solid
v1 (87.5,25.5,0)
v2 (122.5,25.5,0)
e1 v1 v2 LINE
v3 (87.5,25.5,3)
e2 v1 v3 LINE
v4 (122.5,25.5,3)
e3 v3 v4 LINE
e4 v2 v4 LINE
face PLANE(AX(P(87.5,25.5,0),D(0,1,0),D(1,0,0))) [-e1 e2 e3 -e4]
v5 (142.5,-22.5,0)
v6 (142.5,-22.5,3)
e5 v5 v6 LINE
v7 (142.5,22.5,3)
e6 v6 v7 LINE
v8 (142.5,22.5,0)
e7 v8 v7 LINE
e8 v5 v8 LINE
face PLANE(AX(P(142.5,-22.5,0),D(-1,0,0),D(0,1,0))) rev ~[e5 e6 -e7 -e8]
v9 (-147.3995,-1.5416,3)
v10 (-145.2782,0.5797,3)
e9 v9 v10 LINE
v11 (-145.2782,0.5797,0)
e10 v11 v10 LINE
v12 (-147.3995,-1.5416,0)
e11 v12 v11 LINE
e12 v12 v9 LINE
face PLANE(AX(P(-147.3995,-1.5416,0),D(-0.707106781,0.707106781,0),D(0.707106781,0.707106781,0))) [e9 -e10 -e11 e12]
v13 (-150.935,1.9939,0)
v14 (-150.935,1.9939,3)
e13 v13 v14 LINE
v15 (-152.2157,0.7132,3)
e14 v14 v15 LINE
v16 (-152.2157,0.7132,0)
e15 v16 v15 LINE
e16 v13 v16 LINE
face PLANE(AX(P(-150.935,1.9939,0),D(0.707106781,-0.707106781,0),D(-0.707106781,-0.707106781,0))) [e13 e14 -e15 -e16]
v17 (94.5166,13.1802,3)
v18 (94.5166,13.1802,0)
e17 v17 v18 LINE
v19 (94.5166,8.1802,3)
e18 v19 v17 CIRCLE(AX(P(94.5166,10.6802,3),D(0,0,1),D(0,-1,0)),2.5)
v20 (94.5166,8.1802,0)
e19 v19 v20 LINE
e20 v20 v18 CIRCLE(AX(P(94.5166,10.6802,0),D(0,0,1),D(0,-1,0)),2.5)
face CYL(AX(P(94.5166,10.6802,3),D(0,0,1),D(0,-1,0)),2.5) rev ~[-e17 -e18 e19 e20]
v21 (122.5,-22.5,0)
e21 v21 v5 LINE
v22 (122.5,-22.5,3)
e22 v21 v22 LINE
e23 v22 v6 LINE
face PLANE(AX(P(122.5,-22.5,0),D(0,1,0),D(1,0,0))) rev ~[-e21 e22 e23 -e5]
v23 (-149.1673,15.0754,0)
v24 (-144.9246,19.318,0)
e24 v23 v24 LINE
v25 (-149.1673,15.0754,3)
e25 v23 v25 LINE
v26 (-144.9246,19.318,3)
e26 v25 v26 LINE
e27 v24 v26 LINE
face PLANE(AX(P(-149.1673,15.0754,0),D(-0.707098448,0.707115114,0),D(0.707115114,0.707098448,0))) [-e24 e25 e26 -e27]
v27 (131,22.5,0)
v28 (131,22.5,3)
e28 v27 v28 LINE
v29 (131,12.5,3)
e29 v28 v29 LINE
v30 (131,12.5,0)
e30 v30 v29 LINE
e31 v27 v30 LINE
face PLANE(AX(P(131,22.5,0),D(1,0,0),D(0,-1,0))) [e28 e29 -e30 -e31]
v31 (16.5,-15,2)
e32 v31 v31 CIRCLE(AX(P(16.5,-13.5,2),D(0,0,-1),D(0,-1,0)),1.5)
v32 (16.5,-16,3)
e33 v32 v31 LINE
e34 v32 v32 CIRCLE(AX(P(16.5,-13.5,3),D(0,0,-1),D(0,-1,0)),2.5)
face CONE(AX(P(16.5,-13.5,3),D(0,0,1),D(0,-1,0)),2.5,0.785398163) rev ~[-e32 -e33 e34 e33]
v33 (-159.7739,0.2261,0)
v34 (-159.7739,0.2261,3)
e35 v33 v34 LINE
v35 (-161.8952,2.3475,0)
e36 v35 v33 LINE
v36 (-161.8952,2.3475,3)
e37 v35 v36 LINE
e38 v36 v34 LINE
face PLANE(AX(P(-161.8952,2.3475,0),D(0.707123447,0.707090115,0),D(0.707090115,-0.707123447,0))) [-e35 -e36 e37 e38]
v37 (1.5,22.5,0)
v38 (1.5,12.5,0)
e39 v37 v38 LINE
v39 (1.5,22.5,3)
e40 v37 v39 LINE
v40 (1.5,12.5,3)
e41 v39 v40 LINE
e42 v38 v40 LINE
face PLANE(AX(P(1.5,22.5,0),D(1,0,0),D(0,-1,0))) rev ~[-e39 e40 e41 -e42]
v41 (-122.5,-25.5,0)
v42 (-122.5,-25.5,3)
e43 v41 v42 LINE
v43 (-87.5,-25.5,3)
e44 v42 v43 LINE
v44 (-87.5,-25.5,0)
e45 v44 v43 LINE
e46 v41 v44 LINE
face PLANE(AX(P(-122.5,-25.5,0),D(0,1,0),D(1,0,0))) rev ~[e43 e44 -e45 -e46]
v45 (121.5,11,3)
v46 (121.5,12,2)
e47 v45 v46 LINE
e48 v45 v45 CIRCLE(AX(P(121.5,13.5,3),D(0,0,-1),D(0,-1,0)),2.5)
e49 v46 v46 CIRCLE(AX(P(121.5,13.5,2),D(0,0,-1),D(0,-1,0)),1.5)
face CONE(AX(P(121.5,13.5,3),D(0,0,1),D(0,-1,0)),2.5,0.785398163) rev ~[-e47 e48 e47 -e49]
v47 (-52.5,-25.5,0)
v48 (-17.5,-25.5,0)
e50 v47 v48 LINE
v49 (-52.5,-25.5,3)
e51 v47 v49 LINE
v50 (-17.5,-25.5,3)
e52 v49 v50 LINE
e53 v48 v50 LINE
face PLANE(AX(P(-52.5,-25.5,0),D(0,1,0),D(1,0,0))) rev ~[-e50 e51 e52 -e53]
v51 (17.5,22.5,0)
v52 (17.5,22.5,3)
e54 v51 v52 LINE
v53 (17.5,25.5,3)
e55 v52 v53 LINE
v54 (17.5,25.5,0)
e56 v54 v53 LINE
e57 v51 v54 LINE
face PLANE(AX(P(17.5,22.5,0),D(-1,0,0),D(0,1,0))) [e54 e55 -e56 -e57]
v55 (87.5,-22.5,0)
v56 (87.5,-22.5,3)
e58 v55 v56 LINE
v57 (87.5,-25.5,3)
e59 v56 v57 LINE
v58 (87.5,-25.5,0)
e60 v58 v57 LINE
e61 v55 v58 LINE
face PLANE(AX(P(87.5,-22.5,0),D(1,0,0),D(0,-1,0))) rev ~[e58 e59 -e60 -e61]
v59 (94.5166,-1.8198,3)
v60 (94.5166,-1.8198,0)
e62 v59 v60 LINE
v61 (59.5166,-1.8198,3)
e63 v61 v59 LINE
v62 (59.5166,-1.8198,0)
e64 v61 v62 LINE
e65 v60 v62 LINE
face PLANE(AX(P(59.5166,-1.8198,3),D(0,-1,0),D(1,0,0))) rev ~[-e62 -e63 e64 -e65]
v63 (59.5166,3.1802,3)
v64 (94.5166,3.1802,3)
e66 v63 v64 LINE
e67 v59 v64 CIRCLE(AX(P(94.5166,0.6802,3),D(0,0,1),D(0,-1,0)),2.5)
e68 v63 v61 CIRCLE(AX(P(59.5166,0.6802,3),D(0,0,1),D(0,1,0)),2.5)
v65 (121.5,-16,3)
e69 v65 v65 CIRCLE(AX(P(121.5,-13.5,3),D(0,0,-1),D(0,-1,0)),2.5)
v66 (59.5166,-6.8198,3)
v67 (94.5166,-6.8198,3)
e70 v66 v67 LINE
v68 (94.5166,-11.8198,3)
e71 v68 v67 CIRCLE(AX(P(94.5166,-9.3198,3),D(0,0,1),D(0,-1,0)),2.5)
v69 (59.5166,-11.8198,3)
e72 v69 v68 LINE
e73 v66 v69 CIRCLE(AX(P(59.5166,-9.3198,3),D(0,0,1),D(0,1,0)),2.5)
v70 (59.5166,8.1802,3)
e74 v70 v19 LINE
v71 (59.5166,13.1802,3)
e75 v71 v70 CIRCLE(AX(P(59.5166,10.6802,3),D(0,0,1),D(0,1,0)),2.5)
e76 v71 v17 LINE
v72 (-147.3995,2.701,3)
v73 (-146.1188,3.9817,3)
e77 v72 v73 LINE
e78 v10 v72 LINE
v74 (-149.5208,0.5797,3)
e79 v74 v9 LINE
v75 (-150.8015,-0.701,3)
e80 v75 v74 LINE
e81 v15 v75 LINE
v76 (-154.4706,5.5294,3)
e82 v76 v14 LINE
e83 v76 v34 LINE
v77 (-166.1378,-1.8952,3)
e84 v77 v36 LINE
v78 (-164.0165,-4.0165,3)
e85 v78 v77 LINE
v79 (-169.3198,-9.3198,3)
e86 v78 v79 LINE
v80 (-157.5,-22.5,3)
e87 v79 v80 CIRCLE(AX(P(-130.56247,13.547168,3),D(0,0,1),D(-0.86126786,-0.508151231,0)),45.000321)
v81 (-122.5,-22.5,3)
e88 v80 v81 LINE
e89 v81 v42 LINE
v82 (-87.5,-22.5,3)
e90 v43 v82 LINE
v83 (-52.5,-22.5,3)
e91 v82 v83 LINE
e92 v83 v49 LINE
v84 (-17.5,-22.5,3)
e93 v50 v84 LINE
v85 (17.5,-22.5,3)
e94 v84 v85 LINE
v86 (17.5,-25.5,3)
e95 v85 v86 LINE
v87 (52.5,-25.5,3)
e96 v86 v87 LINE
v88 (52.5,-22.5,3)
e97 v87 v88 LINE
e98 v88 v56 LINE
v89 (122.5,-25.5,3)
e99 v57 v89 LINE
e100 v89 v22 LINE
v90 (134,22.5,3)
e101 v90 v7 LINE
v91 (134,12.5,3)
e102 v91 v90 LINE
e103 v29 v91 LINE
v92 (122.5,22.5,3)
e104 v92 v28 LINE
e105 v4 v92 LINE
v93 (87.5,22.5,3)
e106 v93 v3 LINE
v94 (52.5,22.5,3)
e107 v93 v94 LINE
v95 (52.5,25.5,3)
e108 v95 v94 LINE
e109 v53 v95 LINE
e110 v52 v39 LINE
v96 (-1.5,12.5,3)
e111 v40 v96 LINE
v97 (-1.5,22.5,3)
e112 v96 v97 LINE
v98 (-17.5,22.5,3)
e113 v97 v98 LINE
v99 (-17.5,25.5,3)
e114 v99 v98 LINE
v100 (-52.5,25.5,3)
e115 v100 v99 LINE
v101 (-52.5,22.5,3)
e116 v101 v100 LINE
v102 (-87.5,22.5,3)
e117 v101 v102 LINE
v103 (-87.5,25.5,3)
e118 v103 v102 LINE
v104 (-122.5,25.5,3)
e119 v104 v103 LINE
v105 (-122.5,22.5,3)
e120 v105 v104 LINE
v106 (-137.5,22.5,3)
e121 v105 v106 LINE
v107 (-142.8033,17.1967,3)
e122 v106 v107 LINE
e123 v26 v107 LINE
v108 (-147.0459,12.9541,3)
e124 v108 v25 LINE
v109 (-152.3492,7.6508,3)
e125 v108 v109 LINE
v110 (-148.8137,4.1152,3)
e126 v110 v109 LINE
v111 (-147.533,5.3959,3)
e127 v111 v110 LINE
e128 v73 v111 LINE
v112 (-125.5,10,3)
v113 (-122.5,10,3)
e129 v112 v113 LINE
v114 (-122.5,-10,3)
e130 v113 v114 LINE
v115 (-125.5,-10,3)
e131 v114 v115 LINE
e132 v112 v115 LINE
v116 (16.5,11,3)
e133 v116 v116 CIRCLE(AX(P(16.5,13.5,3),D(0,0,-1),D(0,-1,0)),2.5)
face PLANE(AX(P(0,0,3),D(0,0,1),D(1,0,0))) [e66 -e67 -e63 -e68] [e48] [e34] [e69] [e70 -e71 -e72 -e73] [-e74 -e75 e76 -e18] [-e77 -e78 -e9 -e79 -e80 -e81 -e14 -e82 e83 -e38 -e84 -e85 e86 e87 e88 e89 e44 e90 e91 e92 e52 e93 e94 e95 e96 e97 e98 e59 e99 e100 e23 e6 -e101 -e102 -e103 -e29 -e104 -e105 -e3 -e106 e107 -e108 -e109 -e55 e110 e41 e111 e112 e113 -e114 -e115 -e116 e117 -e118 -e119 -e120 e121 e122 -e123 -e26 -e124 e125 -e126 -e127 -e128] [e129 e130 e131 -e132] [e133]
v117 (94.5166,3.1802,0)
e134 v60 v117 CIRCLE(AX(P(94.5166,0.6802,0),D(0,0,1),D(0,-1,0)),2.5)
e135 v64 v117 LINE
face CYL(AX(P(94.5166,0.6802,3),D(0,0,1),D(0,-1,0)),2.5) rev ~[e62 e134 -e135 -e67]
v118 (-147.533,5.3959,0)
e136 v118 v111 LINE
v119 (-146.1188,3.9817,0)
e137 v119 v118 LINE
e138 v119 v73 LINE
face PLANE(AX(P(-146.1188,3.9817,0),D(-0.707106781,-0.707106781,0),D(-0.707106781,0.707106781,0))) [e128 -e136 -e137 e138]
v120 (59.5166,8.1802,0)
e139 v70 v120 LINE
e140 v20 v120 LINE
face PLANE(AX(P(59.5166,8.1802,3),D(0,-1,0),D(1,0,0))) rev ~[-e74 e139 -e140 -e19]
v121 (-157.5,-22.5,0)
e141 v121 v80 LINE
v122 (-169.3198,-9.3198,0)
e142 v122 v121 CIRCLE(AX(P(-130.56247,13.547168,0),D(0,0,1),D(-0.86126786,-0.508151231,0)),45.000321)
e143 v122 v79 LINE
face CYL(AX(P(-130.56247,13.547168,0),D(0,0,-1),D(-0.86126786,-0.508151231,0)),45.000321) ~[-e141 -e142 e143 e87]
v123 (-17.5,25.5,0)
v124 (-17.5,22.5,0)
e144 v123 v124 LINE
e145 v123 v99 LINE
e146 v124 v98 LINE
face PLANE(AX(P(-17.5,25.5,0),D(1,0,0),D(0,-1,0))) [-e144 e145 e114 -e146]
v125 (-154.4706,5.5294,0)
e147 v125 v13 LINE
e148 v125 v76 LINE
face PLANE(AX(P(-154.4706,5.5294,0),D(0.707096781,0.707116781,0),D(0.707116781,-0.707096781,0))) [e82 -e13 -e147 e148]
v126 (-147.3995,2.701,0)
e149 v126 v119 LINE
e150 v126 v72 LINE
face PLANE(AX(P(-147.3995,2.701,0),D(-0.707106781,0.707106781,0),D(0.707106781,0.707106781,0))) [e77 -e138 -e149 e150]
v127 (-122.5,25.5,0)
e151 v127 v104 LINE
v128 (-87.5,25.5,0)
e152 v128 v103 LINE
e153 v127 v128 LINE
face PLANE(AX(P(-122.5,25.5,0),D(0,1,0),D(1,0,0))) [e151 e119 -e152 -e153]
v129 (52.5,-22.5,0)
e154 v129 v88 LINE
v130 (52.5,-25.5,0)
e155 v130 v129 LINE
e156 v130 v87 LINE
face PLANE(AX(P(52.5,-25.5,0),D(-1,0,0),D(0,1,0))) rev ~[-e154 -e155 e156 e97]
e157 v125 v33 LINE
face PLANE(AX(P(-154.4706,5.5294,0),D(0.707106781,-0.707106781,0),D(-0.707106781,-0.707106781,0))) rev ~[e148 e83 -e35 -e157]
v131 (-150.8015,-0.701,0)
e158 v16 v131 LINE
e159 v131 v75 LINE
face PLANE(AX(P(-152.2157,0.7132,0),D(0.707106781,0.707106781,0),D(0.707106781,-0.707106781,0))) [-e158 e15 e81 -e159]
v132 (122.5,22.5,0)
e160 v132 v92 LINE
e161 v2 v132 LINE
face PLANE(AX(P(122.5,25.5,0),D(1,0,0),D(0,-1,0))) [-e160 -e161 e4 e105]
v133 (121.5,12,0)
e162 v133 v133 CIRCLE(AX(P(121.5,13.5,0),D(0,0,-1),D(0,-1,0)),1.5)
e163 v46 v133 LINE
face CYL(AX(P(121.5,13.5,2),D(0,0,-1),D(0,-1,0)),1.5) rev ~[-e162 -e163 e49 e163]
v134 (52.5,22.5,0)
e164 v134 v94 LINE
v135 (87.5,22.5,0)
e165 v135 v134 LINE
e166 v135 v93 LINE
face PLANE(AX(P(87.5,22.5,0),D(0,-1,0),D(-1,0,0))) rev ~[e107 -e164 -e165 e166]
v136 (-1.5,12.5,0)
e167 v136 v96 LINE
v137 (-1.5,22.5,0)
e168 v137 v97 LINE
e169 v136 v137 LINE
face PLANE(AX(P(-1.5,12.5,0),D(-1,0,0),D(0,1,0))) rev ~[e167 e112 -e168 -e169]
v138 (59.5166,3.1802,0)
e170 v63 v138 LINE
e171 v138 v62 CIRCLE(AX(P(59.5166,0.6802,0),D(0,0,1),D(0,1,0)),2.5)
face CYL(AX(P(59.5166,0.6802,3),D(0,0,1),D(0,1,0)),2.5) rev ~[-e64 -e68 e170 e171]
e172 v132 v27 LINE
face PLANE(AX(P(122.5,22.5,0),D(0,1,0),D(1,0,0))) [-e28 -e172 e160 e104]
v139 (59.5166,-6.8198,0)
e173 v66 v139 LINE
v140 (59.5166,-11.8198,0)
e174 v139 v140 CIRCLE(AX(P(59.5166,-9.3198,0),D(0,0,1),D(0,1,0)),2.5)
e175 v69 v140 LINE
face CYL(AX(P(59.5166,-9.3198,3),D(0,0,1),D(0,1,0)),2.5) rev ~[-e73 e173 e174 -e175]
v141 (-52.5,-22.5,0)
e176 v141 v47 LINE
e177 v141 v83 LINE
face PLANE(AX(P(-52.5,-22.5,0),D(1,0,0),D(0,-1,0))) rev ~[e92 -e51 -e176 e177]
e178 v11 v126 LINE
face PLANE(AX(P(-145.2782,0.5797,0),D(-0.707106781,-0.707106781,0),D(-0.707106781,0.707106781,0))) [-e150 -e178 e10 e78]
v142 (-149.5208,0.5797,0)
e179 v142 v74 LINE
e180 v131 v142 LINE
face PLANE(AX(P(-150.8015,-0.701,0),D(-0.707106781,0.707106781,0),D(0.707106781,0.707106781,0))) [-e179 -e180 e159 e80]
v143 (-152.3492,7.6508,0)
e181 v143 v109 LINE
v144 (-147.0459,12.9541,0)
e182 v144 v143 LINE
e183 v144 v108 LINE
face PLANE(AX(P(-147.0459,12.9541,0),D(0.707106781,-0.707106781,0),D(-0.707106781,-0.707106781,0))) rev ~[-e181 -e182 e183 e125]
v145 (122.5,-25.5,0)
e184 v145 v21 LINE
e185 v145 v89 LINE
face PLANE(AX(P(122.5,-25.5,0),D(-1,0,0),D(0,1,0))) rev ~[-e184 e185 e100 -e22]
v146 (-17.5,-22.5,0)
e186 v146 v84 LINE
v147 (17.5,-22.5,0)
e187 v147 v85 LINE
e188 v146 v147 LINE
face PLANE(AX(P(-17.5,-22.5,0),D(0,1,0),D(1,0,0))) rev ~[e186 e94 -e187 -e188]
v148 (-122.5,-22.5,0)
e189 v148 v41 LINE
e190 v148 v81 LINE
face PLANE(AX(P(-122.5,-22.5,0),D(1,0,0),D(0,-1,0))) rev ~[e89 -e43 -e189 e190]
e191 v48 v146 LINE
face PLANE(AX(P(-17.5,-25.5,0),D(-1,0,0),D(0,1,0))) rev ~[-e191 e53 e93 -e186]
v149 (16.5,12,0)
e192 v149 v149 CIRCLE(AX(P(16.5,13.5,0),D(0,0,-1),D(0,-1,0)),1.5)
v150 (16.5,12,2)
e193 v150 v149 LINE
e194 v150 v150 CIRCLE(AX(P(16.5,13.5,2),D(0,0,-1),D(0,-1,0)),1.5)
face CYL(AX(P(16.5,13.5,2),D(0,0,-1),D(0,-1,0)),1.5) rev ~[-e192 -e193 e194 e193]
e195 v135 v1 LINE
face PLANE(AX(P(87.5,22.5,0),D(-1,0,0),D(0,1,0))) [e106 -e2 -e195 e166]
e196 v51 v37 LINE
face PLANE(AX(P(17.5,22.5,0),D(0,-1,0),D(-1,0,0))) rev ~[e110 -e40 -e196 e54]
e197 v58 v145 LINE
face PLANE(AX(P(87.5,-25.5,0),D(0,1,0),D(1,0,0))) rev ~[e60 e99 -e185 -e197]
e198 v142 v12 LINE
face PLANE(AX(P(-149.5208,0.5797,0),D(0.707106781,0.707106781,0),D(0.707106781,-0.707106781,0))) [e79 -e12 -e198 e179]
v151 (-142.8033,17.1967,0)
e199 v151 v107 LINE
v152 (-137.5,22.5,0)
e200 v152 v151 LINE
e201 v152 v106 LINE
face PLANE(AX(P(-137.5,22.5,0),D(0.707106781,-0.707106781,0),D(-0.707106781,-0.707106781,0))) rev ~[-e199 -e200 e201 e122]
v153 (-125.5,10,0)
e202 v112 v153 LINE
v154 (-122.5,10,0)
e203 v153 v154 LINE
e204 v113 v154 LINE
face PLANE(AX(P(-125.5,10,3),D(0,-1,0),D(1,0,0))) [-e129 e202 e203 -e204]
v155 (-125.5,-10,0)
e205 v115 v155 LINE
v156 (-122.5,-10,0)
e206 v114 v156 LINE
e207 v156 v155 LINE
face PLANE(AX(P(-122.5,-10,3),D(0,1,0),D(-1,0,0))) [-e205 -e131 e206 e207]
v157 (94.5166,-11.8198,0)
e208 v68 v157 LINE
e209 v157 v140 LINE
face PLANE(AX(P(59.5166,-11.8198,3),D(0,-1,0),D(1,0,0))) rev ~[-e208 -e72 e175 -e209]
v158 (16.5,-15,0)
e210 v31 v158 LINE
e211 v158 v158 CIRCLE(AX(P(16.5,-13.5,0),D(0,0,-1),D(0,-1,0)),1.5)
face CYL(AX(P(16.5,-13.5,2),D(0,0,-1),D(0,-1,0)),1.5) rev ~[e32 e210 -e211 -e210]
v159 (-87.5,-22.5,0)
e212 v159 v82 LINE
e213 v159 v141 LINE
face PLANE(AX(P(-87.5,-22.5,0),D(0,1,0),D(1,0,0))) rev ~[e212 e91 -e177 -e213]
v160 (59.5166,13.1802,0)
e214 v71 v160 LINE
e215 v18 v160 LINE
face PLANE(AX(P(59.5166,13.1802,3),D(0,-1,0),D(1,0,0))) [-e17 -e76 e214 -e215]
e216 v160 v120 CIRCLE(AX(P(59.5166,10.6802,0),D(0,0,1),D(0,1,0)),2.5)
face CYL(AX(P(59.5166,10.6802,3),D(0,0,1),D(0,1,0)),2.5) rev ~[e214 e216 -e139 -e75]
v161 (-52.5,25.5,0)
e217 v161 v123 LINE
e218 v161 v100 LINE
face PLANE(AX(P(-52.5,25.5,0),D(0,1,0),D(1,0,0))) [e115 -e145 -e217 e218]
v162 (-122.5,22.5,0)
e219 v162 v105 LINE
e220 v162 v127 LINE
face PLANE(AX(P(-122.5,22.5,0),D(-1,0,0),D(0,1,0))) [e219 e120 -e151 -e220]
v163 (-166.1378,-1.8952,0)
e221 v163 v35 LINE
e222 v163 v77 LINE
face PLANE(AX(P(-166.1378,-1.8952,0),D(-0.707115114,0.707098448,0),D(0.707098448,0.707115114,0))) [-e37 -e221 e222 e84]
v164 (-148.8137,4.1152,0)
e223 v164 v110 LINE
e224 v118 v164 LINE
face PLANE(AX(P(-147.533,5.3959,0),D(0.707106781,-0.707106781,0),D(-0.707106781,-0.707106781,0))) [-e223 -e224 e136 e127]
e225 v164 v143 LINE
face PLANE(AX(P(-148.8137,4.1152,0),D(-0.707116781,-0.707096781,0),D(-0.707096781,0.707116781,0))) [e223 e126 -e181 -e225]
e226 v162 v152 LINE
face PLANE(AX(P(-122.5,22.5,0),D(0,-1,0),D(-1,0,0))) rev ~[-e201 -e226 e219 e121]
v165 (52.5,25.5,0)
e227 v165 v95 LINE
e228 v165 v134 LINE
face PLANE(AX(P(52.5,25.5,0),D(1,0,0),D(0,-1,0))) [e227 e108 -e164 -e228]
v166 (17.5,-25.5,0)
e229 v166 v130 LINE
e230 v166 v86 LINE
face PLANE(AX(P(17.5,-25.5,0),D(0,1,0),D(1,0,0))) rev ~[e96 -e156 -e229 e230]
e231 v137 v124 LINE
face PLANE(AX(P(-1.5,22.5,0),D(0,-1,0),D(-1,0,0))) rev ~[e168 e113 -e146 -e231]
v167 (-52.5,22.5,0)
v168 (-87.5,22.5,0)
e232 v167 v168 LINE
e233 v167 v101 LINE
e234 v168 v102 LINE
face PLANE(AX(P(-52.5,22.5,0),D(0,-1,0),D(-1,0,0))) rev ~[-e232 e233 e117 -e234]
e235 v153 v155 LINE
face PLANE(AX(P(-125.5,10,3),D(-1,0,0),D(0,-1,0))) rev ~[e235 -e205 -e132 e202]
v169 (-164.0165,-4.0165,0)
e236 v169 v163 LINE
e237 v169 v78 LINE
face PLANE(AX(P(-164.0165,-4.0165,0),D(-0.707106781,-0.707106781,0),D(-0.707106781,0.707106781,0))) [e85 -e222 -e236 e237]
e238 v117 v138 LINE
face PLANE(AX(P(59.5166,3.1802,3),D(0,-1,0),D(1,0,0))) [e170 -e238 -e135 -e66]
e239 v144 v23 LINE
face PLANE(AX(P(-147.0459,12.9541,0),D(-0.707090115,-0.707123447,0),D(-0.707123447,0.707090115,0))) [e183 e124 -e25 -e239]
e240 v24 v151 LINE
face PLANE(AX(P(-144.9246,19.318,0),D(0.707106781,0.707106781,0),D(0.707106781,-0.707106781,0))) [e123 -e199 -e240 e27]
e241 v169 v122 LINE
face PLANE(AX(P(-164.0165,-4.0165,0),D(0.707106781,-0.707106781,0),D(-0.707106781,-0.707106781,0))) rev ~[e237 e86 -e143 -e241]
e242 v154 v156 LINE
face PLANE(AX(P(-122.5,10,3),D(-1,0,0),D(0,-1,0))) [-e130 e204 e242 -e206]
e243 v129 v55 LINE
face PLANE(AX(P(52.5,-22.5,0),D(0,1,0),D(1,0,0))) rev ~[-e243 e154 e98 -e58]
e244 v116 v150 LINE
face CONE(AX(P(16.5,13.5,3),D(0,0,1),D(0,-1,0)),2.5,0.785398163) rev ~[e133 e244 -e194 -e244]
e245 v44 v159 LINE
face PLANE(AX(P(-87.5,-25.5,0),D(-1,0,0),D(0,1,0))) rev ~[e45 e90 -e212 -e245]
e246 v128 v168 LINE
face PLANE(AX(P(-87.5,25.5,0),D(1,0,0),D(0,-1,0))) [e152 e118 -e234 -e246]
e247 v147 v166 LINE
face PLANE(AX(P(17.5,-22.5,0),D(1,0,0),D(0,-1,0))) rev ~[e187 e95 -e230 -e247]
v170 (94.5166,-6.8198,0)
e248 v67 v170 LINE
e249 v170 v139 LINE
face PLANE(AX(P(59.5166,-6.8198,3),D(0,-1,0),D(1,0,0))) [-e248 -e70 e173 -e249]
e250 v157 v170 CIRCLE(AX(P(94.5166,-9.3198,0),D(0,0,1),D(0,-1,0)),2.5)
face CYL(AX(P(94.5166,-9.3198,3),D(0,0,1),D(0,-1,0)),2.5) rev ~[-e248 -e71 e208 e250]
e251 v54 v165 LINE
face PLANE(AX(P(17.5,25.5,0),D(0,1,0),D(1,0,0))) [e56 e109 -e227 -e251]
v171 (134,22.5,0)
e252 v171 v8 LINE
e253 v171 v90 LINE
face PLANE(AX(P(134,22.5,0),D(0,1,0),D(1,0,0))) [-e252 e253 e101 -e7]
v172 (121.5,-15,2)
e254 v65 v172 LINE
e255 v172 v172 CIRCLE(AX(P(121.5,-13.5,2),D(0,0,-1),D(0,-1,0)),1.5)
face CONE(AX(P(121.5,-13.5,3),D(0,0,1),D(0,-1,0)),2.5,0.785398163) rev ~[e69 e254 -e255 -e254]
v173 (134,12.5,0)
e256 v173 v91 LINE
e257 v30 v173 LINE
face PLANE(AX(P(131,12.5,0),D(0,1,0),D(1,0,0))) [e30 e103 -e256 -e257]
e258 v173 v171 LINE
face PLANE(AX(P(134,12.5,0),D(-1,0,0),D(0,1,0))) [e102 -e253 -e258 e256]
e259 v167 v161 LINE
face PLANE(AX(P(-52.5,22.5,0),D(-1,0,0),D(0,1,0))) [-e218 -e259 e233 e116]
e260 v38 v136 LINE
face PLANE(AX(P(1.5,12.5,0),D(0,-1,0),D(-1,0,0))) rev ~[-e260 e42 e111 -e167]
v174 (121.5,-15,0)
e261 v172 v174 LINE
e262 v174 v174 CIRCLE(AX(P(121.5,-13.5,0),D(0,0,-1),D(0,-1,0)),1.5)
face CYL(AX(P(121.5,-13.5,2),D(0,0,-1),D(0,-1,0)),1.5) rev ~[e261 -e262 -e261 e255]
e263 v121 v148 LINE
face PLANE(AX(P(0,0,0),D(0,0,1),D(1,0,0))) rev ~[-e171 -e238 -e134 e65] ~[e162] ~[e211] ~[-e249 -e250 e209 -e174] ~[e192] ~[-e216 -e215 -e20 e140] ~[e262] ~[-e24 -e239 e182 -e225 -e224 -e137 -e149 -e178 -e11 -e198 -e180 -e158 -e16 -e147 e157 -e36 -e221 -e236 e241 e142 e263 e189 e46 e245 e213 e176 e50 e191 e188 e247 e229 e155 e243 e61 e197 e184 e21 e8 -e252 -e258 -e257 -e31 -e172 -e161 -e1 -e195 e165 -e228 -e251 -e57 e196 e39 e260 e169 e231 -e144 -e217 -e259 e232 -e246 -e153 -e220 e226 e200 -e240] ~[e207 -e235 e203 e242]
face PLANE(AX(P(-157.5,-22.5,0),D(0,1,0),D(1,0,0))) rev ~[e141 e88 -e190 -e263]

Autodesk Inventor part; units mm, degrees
ref_plane "YZ Plane" through (0, 0, 0) normal (1, 0, 0) x (0, 1, 0)
ref_plane "XZ Plane" through (0, 0, 0) normal (0, 1, 0) x (-1, 0, 0)
ref_plane "XY Plane" through (0, 0, 0) normal (0, 0, 1) x (1, 0, 0)
sketch "Sketch1" plane through (0, 0, 0) normal (0, 0, 1) x (1, 0, 0)
  line L0 (142.5, -22.5) -> (142.5, 22.5)
  arc A0 (-169.3198, -9.3198) -> (-157.5, -22.5) centre (-130.5627, 13.547) ccw
  line L1 (-154.4706, 5.5294) -> (-150.935, 1.9939)
  line L2 (-150.935, 1.9939) -> (-152.2157, 0.7132)
  line L3 (-152.2157, 0.7132) -> (-150.8015, -0.701)
  line L4 (-150.8015, -0.701) -> (-149.5208, 0.5797)
  line L5 (-149.5208, 0.5797) -> (-147.3995, -1.5416)
  line L6 (-147.3995, -1.5416) -> (-145.2782, 0.5797)
  line L7 (-145.2782, 0.5797) -> (-147.3995, 2.701)
  line L8 (-147.3995, 2.701) -> (-146.1188, 3.9817)
  line L9 (-146.1188, 3.9817) -> (-147.533, 5.3959)
  line L10 (-147.533, 5.3959) -> (-148.8137, 4.1152)
  line L11 (-148.8137, 4.1152) -> (-152.3492, 7.6508)
  line L12 (-154.542, 7.7222) -> (-156.666, 9.8462) construction
  line L13 (-122.5, 22.5) -> (-122.5, 25.5)
  line L14 (-122.5, 25.5) -> (-87.5, 25.5)
  line L15 (-87.5, 25.5) -> (-87.5, 22.5)
  line L16 (-52.5, 22.5) -> (-52.5, 25.5)
  line L17 (-52.5, 25.5) -> (-17.5, 25.5)
  line L18 (-17.5, 25.5) -> (-17.5, 22.5)
  line L19 (17.5, 22.5) -> (17.5, 25.5)
  line L20 (17.5, 25.5) -> (52.5, 25.5)
  line L21 (52.5, 25.5) -> (52.5, 22.5)
  line L22 (87.5, 22.5) -> (87.5, 25.5)
  line L23 (87.5, 25.5) -> (122.5, 25.5)
  line L24 (122.5, 25.5) -> (122.5, 22.5)
  line L25 (87.5, 22.5) -> (52.5, 22.5)
  line L26 (-52.5, 22.5) -> (-87.5, 22.5)
  line L27 (-122.5, 22.5) -> (-137.5, 22.5)
  line L28 (-122.5, -22.5) -> (-122.5, -25.5)
  line L29 (-122.5, -25.5) -> (-87.5, -25.5)
  line L30 (-87.5, -25.5) -> (-87.5, -22.5)
  line L31 (-52.5, -22.5) -> (-52.5, -25.5)
  line L32 (-52.5, -25.5) -> (-17.5, -25.5)
  line L33 (-17.5, -25.5) -> (-17.5, -22.5)
  line L34 (17.5, -22.5) -> (17.5, -25.5)
  line L35 (17.5, -25.5) -> (52.5, -25.5)
  line L36 (52.5, -25.5) -> (52.5, -22.5)
  line L37 (87.5, -22.5) -> (87.5, -25.5)
  line L38 (87.5, -25.5) -> (122.5, -25.5)
  line L39 (122.5, -25.5) -> (122.5, -22.5)
  line L40 (-157.5, -22.5) -> (-122.5, -22.5)
  line L41 (-87.5, -22.5) -> (-52.5, -22.5)
  line L42 (-17.5, -22.5) -> (17.5, -22.5)
  line L43 (52.5, -22.5) -> (87.5, -22.5)
  line L44 (122.5, -22.5) -> (142.5, -22.5)
  line L45 (-1.5, 12.5) -> (-1.5, 22.5)
  line L46 (1.5, 22.5) -> (1.5, 12.5)
  line L47 (1.5, 12.5) -> (-1.5, 12.5)
  line L48 (-37.337, 0) -> (-30.889, 0) construction
  line L49 (-164.0165, -4.0165) -> (-166.1378, -1.8952)
  line L50 (-166.1378, -1.8952) -> (-161.8952, 2.3475)
  line L51 (-161.8952, 2.3475) -> (-159.7739, 0.2261)
  line L52 (-147.0459, 12.9541) -> (-149.1673, 15.0754)
  line L53 (-149.1673, 15.0754) -> (-144.9246, 19.318)
  line L54 (-144.9246, 19.318) -> (-142.8033, 17.1967)
  line L55 (-154.4706, 5.5294) -> (-159.7739, 0.2261)
  line L56 (-164.0165, -4.0165) -> (-169.3198, -9.3198)
  line L57 (-137.5, 22.5) -> (-142.8033, 17.1967)
  line L58 (-147.0459, 12.9541) -> (-152.3492, 7.6508)
  line L59 (17.5, 22.5) -> (1.5, 22.5)
  line L60 (-1.5, 22.5) -> (-17.5, 22.5)
  line L61 (131, 22.5) -> (131, 12.5)
  line L62 (131, 12.5) -> (134, 12.5)
  line L63 (134, 12.5) -> (134, 22.5)
  line L64 (122.5, 22.5) -> (131, 22.5)
  line L65 (134, 22.5) -> (142.5, 22.5)
  point P0 (0, 0)
  point P1 (142.5, 0)
  point P2 (-146.3388, -0.481)
  point P3 (0, -22.5)
  point P4 (1.5, -22.5)
  dimension "d0" = 45
  dimension "d2" = 45
  dimension "d4" = 45
  dimension "d7" = 3
  dimension "d8" = 2
  dimension "d9" = 3
  dimension "d10" = 5
  dimension "d11" = 6.6223
  dimension "d13" = 35
  dimension "d15" = 20
  dimension "d17" = 10
  dimension "d23" = 45
  dimension "d24" = 6
  dimension "d25" = 18
  dimension "d35" = 3
  dimension "d36" = 35
  dimension "d37" = 15
  dimension "d38" = 300
  dimension "d40" = 8.5
extrude "Extrusion1" add sketch "Sketch1" along normal blind 3
sketch "Sketch2" plane through (0, 0, 3) normal (0, 0, 1) x (1, 0, 0)
  line L0 (1.5, 22.5) -> (1.5, 12.5) projected
  line L1 (142.5, -22.5) -> (142.5, 22.5) projected
  line L2 (122.5, 22.5) -> (122.5, 25.5) projected
  line L3 (122.5, 25.5) -> (87.5, 25.5) projected
  line L4 (87.5, 25.5) -> (87.5, 22.5) projected
  line L5 (87.5, 22.5) -> (52.5, 22.5) projected
  line L6 (52.5, 22.5) -> (52.5, 25.5) projected
  line L7 (52.5, 25.5) -> (17.5, 25.5) projected
  line L8 (17.5, 25.5) -> (17.5, 22.5) projected
  line L9 (17.5, 22.5) -> (1.5, 22.5) projected
  line L10 (-17.5, -22.5) -> (17.5, -22.5) projected
  line L11 (17.5, -22.5) -> (17.5, -25.5) projected
  line L12 (17.5, -25.5) -> (52.5, -25.5) projected
  line L13 (52.5, -25.5) -> (52.5, -22.5) projected
  line L14 (52.5, -22.5) -> (87.5, -22.5) projected
  line L15 (87.5, -22.5) -> (87.5, -25.5) projected
  line L16 (87.5, -25.5) -> (122.5, -25.5) projected
  line L17 (122.5, -25.5) -> (122.5, -22.5) projected
  line L18 (122.5, -22.5) -> (142.5, -22.5) projected
  line L19 (-125.5, 10) -> (-125.5, -10)
  line L20 (131, 22.5) -> (122.5, 22.5) projected
  line L21 (1.5, 12.5) -> (-1.5, 12.5) projected
  line L22 (-1.5, 12.5) -> (-1.5, 22.5) projected
  line L23 (-1.5, 22.5) -> (-17.5, 22.5) projected
  line L24 (-17.5, 22.5) -> (-17.5, 25.5) projected
  line L25 (-17.5, 25.5) -> (-52.5, 25.5) projected
  line L26 (-52.5, 25.5) -> (-52.5, 22.5) projected
  line L27 (-52.5, 22.5) -> (-87.5, 22.5) projected
  line L28 (-87.5, 22.5) -> (-87.5, 25.5) projected
  line L29 (-87.5, 25.5) -> (-122.5, 25.5) projected
  line L30 (-122.5, 25.5) -> (-122.5, 22.5) projected
  line L31 (-122.5, -25.5) -> (-87.5, -25.5) projected
  line L32 (-87.5, -25.5) -> (-87.5, -22.5) projected
  line L33 (-87.5, -22.5) -> (-52.5, -22.5) projected
  line L34 (-52.5, -22.5) -> (-52.5, -25.5) projected
  line L35 (-52.5, -25.5) -> (-17.5, -25.5) projected
  line L36 (-17.5, -25.5) -> (-17.5, -22.5) projected
  line L37 (-122.5, 22.5) -> (-137.5, 22.5) projected
  line L38 (-137.5, 22.5) -> (-142.8033, 17.1967) projected
  line L39 (-142.8033, 17.1967) -> (-144.9246, 19.318) projected
  line L40 (-144.9246, 19.318) -> (-149.1673, 15.0754) projected
  line L41 (-149.1673, 15.0754) -> (-147.0459, 12.9541) projected
  line L42 (-147.0459, 12.9541) -> (-152.3492, 7.6508) projected
  line L43 (-152.3492, 7.6508) -> (-148.8137, 4.1152) projected
  line L44 (-148.8137, 4.1152) -> (-147.533, 5.3959) projected
  line L45 (-147.533, 5.3959) -> (-146.1188, 3.9817) projected
  line L46 (-146.1188, 3.9817) -> (-147.3995, 2.701) projected
  line L47 (-147.3995, 2.701) -> (-145.2782, 0.5797) projected
  line L48 (-157.5, -22.5) -> (-122.5, -22.5) projected
  line L49 (-122.5, -22.5) -> (-122.5, -25.5) projected
  line L50 (-145.2782, 0.5797) -> (-147.3995, -1.5416) projected
  line L51 (-147.3995, -1.5416) -> (-149.5208, 0.5797) projected
  line L52 (-149.5208, 0.5797) -> (-150.8015, -0.701) projected
  line L53 (-150.8015, -0.701) -> (-152.2157, 0.7132) projected
  line L54 (-152.2157, 0.7132) -> (-150.935, 1.9939) projected
  line L55 (-150.935, 1.9939) -> (-154.4706, 5.5294) projected
  line L56 (-154.4706, 5.5294) -> (-159.7739, 0.2261) projected
  line L57 (-159.7739, 0.2261) -> (-161.8952, 2.3475) projected
  line L58 (-161.8952, 2.3475) -> (-166.1378, -1.8952) projected
  line L59 (-166.1378, -1.8952) -> (-164.0165, -4.0165) projected
  line L60 (-164.0165, -4.0165) -> (-169.3198, -9.3198) projected
  arc A0 (-169.3198, -9.3198) -> (-157.5, -22.5) centre (-130.5627, 13.547) ccw projected
  line L61 (142.5, 22.5) -> (134, 22.5) projected
  line L62 (134, 22.5) -> (134, 12.5) projected
  line L63 (134, 12.5) -> (131, 12.5) projected
  line L64 (131, 12.5) -> (131, 22.5) projected
  line L65 (-125.5, 10) -> (-122.5, 10)
  line L66 (-122.5, 10) -> (-122.5, -10)
  line L67 (-122.5, -10) -> (-125.5, -10)
  line L68 (-87.5, 22.5) -> (-87.5, 25.5) projected
  point P0 (0, 0)
  point P1 (-125.5, 0)
  dimension "d20" = 268
  dimension "d39" = 20
extrude "Extrusion2" cut sketch "Sketch2" against normal blind 10 contours L65 L66 L67 L19
sketch "Sketch3" plane through (0, 0, 3) normal (0, 0, 1) x (1, 0, 0)
  line L0 (1.5, 22.5) -> (1.5, 12.5) projected
  line L1 (142.5, -22.5) -> (142.5, 22.5) projected
  line L2 (122.5, 22.5) -> (122.5, 25.5) projected
  line L3 (122.5, 25.5) -> (87.5, 25.5) projected
  line L4 (87.5, 25.5) -> (87.5, 22.5) projected
  line L5 (87.5, 22.5) -> (52.5, 22.5) projected
  line L6 (52.5, 22.5) -> (52.5, 25.5) projected
  line L7 (52.5, 25.5) -> (17.5, 25.5) projected
  line L8 (17.5, 25.5) -> (17.5, 22.5) projected
  line L9 (17.5, 22.5) -> (1.5, 22.5) projected
  line L10 (-17.5, -22.5) -> (17.5, -22.5) projected
  line L11 (17.5, -22.5) -> (17.5, -25.5) projected
  line L12 (17.5, -25.5) -> (52.5, -25.5) projected
  line L13 (52.5, -25.5) -> (52.5, -22.5) projected
  line L14 (52.5, -22.5) -> (87.5, -22.5) projected
  line L15 (87.5, -22.5) -> (87.5, -25.5) projected
  line L16 (87.5, -25.5) -> (122.5, -25.5) projected
  line L17 (122.5, -25.5) -> (122.5, -22.5) projected
  line L18 (122.5, -22.5) -> (142.5, -22.5) projected
  arc A0 (59.5166, -6.8198) -> (59.5166, -11.8198) centre (59.5166, -9.3198) ccw
  arc A1 (94.5166, -11.8198) -> (94.5166, -6.8198) centre (94.5166, -9.3198) ccw
  line L19 (59.5166, -6.8198) -> (94.5166, -6.8198)
  line L20 (59.5166, -11.8198) -> (94.5166, -11.8198)
  line L21 (131, 22.5) -> (122.5, 22.5) projected
  line L22 (1.5, 12.5) -> (-1.5, 12.5) projected
  line L23 (-1.5, 12.5) -> (-1.5, 22.5) projected
  line L24 (-1.5, 22.5) -> (-17.5, 22.5) projected
  line L25 (-17.5, 22.5) -> (-17.5, 25.5) projected
  line L26 (-17.5, 25.5) -> (-52.5, 25.5) projected
  line L27 (-52.5, 25.5) -> (-52.5, 22.5) projected
  line L28 (-52.5, 22.5) -> (-87.5, 22.5) projected
  line L29 (-87.5, 22.5) -> (-87.5, 25.5) projected
  line L30 (-87.5, 25.5) -> (-122.5, 25.5) projected
  line L31 (-122.5, -22.5) -> (-122.5, -25.5) projected
  line L32 (-122.5, -25.5) -> (-87.5, -25.5) projected
  line L33 (-87.5, -25.5) -> (-87.5, -22.5) projected
  line L34 (-87.5, -22.5) -> (-52.5, -22.5) projected
  line L35 (-52.5, -22.5) -> (-52.5, -25.5) projected
  line L36 (-52.5, -25.5) -> (-17.5, -25.5) projected
  line L37 (-17.5, -25.5) -> (-17.5, -22.5) projected
  line L38 (-122.5, 22.5) -> (-137.5, 22.5) projected
  line L39 (-137.5, 22.5) -> (-142.8033, 17.1967) projected
  line L40 (-142.8033, 17.1967) -> (-144.9246, 19.318) projected
  line L41 (-144.9246, 19.318) -> (-149.1673, 15.0754) projected
  line L42 (-149.1673, 15.0754) -> (-147.0459, 12.9541) projected
  line L43 (-147.0459, 12.9541) -> (-152.3492, 7.6508) projected
  line L44 (-157.5, -22.5) -> (-122.5, -22.5) projected
  line L45 (-164.0165, -4.0165) -> (-169.3198, -9.3198) projected
  arc A2 (-169.3198, -9.3198) -> (-157.5, -22.5) centre (-130.5627, 13.547) ccw projected
  line L46 (-125.5, -10) -> (-125.5, 10) projected
  line L47 (142.5, 22.5) -> (134, 22.5) projected
  line L48 (134, 22.5) -> (134, 12.5) projected
  line L49 (134, 12.5) -> (131, 12.5) projected
  line L50 (131, 12.5) -> (131, 22.5) projected
  line L51 (-122.5, -10) -> (-125.5, -10) projected
  line L52 (-125.5, 10) -> (-122.5, 10) projected
  line L53 (-122.5, 10) -> (-122.5, -10) projected
  line L54 (-152.3492, 7.6508) -> (-148.8137, 4.1152) projected
  line L55 (-148.8137, 4.1152) -> (-147.533, 5.3959) projected
  line L56 (-147.533, 5.3959) -> (-146.1188, 3.9817) projected
  line L57 (-146.1188, 3.9817) -> (-147.3995, 2.701) projected
  line L58 (-147.3995, 2.701) -> (-145.2782, 0.5797) projected
  line L59 (-145.2782, 0.5797) -> (-147.3995, -1.5416) projected
  line L60 (-147.3995, -1.5416) -> (-149.5208, 0.5797) projected
  line L61 (-149.5208, 0.5797) -> (-150.8015, -0.701) projected
  line L62 (-150.8015, -0.701) -> (-152.2157, 0.7132) projected
  line L63 (-152.2157, 0.7132) -> (-150.935, 1.9939) projected
  line L64 (-150.935, 1.9939) -> (-154.4706, 5.5294) projected
  line L65 (-154.4706, 5.5294) -> (-159.7739, 0.2261) projected
  line L66 (-159.7739, 0.2261) -> (-161.8952, 2.3475) projected
  line L67 (-161.8952, 2.3475) -> (-166.1378, -1.8952) projected
  line L68 (-166.1378, -1.8952) -> (-164.0165, -4.0165) projected
  line L69 (-122.5, 25.5) -> (-122.5, 22.5) projected
  point P0 (0, 0)
  dimension "d26" = 5
  dimension "d27" = 35
extrude "Extrusion3" cut sketch "Sketch3" against normal up to next contours L19 A1 L20 A0
pattern_linear "Rectangular Pattern1" count 3 spacing 10 along (0, 1, 0) of "Extrusion3"
sketch "Sketch4" plane through (0, 0, 3) normal (0, 0, 1) x (1, 0, 0)
  line L0 (1.5, 22.5) -> (1.5, 12.5) projected
  line L1 (-17.4416, 0) -> (12.3581, 0) construction
  point P0 (0, 0)
  point P1 (16.5, 13.5)
  point P2 (16.5, -13.5)
  point P3 (121.5, 13.5)
  point P4 (121.5, -13.5)
  dimension "d41" = 27
  dimension "d42" = 15
  dimension "d43" = 105
hole "Hole1" at (16.5, 13.5, 3) at (16.5, -13.5, 3) at (121.5, 13.5, 3) at (121.5, -13.5, 3) direction (0, 0, -1) diameter 3 end through all countersink diameter 5 countersink angle 90
properties part number "Wall" material "Polycarbonate, Clear"
